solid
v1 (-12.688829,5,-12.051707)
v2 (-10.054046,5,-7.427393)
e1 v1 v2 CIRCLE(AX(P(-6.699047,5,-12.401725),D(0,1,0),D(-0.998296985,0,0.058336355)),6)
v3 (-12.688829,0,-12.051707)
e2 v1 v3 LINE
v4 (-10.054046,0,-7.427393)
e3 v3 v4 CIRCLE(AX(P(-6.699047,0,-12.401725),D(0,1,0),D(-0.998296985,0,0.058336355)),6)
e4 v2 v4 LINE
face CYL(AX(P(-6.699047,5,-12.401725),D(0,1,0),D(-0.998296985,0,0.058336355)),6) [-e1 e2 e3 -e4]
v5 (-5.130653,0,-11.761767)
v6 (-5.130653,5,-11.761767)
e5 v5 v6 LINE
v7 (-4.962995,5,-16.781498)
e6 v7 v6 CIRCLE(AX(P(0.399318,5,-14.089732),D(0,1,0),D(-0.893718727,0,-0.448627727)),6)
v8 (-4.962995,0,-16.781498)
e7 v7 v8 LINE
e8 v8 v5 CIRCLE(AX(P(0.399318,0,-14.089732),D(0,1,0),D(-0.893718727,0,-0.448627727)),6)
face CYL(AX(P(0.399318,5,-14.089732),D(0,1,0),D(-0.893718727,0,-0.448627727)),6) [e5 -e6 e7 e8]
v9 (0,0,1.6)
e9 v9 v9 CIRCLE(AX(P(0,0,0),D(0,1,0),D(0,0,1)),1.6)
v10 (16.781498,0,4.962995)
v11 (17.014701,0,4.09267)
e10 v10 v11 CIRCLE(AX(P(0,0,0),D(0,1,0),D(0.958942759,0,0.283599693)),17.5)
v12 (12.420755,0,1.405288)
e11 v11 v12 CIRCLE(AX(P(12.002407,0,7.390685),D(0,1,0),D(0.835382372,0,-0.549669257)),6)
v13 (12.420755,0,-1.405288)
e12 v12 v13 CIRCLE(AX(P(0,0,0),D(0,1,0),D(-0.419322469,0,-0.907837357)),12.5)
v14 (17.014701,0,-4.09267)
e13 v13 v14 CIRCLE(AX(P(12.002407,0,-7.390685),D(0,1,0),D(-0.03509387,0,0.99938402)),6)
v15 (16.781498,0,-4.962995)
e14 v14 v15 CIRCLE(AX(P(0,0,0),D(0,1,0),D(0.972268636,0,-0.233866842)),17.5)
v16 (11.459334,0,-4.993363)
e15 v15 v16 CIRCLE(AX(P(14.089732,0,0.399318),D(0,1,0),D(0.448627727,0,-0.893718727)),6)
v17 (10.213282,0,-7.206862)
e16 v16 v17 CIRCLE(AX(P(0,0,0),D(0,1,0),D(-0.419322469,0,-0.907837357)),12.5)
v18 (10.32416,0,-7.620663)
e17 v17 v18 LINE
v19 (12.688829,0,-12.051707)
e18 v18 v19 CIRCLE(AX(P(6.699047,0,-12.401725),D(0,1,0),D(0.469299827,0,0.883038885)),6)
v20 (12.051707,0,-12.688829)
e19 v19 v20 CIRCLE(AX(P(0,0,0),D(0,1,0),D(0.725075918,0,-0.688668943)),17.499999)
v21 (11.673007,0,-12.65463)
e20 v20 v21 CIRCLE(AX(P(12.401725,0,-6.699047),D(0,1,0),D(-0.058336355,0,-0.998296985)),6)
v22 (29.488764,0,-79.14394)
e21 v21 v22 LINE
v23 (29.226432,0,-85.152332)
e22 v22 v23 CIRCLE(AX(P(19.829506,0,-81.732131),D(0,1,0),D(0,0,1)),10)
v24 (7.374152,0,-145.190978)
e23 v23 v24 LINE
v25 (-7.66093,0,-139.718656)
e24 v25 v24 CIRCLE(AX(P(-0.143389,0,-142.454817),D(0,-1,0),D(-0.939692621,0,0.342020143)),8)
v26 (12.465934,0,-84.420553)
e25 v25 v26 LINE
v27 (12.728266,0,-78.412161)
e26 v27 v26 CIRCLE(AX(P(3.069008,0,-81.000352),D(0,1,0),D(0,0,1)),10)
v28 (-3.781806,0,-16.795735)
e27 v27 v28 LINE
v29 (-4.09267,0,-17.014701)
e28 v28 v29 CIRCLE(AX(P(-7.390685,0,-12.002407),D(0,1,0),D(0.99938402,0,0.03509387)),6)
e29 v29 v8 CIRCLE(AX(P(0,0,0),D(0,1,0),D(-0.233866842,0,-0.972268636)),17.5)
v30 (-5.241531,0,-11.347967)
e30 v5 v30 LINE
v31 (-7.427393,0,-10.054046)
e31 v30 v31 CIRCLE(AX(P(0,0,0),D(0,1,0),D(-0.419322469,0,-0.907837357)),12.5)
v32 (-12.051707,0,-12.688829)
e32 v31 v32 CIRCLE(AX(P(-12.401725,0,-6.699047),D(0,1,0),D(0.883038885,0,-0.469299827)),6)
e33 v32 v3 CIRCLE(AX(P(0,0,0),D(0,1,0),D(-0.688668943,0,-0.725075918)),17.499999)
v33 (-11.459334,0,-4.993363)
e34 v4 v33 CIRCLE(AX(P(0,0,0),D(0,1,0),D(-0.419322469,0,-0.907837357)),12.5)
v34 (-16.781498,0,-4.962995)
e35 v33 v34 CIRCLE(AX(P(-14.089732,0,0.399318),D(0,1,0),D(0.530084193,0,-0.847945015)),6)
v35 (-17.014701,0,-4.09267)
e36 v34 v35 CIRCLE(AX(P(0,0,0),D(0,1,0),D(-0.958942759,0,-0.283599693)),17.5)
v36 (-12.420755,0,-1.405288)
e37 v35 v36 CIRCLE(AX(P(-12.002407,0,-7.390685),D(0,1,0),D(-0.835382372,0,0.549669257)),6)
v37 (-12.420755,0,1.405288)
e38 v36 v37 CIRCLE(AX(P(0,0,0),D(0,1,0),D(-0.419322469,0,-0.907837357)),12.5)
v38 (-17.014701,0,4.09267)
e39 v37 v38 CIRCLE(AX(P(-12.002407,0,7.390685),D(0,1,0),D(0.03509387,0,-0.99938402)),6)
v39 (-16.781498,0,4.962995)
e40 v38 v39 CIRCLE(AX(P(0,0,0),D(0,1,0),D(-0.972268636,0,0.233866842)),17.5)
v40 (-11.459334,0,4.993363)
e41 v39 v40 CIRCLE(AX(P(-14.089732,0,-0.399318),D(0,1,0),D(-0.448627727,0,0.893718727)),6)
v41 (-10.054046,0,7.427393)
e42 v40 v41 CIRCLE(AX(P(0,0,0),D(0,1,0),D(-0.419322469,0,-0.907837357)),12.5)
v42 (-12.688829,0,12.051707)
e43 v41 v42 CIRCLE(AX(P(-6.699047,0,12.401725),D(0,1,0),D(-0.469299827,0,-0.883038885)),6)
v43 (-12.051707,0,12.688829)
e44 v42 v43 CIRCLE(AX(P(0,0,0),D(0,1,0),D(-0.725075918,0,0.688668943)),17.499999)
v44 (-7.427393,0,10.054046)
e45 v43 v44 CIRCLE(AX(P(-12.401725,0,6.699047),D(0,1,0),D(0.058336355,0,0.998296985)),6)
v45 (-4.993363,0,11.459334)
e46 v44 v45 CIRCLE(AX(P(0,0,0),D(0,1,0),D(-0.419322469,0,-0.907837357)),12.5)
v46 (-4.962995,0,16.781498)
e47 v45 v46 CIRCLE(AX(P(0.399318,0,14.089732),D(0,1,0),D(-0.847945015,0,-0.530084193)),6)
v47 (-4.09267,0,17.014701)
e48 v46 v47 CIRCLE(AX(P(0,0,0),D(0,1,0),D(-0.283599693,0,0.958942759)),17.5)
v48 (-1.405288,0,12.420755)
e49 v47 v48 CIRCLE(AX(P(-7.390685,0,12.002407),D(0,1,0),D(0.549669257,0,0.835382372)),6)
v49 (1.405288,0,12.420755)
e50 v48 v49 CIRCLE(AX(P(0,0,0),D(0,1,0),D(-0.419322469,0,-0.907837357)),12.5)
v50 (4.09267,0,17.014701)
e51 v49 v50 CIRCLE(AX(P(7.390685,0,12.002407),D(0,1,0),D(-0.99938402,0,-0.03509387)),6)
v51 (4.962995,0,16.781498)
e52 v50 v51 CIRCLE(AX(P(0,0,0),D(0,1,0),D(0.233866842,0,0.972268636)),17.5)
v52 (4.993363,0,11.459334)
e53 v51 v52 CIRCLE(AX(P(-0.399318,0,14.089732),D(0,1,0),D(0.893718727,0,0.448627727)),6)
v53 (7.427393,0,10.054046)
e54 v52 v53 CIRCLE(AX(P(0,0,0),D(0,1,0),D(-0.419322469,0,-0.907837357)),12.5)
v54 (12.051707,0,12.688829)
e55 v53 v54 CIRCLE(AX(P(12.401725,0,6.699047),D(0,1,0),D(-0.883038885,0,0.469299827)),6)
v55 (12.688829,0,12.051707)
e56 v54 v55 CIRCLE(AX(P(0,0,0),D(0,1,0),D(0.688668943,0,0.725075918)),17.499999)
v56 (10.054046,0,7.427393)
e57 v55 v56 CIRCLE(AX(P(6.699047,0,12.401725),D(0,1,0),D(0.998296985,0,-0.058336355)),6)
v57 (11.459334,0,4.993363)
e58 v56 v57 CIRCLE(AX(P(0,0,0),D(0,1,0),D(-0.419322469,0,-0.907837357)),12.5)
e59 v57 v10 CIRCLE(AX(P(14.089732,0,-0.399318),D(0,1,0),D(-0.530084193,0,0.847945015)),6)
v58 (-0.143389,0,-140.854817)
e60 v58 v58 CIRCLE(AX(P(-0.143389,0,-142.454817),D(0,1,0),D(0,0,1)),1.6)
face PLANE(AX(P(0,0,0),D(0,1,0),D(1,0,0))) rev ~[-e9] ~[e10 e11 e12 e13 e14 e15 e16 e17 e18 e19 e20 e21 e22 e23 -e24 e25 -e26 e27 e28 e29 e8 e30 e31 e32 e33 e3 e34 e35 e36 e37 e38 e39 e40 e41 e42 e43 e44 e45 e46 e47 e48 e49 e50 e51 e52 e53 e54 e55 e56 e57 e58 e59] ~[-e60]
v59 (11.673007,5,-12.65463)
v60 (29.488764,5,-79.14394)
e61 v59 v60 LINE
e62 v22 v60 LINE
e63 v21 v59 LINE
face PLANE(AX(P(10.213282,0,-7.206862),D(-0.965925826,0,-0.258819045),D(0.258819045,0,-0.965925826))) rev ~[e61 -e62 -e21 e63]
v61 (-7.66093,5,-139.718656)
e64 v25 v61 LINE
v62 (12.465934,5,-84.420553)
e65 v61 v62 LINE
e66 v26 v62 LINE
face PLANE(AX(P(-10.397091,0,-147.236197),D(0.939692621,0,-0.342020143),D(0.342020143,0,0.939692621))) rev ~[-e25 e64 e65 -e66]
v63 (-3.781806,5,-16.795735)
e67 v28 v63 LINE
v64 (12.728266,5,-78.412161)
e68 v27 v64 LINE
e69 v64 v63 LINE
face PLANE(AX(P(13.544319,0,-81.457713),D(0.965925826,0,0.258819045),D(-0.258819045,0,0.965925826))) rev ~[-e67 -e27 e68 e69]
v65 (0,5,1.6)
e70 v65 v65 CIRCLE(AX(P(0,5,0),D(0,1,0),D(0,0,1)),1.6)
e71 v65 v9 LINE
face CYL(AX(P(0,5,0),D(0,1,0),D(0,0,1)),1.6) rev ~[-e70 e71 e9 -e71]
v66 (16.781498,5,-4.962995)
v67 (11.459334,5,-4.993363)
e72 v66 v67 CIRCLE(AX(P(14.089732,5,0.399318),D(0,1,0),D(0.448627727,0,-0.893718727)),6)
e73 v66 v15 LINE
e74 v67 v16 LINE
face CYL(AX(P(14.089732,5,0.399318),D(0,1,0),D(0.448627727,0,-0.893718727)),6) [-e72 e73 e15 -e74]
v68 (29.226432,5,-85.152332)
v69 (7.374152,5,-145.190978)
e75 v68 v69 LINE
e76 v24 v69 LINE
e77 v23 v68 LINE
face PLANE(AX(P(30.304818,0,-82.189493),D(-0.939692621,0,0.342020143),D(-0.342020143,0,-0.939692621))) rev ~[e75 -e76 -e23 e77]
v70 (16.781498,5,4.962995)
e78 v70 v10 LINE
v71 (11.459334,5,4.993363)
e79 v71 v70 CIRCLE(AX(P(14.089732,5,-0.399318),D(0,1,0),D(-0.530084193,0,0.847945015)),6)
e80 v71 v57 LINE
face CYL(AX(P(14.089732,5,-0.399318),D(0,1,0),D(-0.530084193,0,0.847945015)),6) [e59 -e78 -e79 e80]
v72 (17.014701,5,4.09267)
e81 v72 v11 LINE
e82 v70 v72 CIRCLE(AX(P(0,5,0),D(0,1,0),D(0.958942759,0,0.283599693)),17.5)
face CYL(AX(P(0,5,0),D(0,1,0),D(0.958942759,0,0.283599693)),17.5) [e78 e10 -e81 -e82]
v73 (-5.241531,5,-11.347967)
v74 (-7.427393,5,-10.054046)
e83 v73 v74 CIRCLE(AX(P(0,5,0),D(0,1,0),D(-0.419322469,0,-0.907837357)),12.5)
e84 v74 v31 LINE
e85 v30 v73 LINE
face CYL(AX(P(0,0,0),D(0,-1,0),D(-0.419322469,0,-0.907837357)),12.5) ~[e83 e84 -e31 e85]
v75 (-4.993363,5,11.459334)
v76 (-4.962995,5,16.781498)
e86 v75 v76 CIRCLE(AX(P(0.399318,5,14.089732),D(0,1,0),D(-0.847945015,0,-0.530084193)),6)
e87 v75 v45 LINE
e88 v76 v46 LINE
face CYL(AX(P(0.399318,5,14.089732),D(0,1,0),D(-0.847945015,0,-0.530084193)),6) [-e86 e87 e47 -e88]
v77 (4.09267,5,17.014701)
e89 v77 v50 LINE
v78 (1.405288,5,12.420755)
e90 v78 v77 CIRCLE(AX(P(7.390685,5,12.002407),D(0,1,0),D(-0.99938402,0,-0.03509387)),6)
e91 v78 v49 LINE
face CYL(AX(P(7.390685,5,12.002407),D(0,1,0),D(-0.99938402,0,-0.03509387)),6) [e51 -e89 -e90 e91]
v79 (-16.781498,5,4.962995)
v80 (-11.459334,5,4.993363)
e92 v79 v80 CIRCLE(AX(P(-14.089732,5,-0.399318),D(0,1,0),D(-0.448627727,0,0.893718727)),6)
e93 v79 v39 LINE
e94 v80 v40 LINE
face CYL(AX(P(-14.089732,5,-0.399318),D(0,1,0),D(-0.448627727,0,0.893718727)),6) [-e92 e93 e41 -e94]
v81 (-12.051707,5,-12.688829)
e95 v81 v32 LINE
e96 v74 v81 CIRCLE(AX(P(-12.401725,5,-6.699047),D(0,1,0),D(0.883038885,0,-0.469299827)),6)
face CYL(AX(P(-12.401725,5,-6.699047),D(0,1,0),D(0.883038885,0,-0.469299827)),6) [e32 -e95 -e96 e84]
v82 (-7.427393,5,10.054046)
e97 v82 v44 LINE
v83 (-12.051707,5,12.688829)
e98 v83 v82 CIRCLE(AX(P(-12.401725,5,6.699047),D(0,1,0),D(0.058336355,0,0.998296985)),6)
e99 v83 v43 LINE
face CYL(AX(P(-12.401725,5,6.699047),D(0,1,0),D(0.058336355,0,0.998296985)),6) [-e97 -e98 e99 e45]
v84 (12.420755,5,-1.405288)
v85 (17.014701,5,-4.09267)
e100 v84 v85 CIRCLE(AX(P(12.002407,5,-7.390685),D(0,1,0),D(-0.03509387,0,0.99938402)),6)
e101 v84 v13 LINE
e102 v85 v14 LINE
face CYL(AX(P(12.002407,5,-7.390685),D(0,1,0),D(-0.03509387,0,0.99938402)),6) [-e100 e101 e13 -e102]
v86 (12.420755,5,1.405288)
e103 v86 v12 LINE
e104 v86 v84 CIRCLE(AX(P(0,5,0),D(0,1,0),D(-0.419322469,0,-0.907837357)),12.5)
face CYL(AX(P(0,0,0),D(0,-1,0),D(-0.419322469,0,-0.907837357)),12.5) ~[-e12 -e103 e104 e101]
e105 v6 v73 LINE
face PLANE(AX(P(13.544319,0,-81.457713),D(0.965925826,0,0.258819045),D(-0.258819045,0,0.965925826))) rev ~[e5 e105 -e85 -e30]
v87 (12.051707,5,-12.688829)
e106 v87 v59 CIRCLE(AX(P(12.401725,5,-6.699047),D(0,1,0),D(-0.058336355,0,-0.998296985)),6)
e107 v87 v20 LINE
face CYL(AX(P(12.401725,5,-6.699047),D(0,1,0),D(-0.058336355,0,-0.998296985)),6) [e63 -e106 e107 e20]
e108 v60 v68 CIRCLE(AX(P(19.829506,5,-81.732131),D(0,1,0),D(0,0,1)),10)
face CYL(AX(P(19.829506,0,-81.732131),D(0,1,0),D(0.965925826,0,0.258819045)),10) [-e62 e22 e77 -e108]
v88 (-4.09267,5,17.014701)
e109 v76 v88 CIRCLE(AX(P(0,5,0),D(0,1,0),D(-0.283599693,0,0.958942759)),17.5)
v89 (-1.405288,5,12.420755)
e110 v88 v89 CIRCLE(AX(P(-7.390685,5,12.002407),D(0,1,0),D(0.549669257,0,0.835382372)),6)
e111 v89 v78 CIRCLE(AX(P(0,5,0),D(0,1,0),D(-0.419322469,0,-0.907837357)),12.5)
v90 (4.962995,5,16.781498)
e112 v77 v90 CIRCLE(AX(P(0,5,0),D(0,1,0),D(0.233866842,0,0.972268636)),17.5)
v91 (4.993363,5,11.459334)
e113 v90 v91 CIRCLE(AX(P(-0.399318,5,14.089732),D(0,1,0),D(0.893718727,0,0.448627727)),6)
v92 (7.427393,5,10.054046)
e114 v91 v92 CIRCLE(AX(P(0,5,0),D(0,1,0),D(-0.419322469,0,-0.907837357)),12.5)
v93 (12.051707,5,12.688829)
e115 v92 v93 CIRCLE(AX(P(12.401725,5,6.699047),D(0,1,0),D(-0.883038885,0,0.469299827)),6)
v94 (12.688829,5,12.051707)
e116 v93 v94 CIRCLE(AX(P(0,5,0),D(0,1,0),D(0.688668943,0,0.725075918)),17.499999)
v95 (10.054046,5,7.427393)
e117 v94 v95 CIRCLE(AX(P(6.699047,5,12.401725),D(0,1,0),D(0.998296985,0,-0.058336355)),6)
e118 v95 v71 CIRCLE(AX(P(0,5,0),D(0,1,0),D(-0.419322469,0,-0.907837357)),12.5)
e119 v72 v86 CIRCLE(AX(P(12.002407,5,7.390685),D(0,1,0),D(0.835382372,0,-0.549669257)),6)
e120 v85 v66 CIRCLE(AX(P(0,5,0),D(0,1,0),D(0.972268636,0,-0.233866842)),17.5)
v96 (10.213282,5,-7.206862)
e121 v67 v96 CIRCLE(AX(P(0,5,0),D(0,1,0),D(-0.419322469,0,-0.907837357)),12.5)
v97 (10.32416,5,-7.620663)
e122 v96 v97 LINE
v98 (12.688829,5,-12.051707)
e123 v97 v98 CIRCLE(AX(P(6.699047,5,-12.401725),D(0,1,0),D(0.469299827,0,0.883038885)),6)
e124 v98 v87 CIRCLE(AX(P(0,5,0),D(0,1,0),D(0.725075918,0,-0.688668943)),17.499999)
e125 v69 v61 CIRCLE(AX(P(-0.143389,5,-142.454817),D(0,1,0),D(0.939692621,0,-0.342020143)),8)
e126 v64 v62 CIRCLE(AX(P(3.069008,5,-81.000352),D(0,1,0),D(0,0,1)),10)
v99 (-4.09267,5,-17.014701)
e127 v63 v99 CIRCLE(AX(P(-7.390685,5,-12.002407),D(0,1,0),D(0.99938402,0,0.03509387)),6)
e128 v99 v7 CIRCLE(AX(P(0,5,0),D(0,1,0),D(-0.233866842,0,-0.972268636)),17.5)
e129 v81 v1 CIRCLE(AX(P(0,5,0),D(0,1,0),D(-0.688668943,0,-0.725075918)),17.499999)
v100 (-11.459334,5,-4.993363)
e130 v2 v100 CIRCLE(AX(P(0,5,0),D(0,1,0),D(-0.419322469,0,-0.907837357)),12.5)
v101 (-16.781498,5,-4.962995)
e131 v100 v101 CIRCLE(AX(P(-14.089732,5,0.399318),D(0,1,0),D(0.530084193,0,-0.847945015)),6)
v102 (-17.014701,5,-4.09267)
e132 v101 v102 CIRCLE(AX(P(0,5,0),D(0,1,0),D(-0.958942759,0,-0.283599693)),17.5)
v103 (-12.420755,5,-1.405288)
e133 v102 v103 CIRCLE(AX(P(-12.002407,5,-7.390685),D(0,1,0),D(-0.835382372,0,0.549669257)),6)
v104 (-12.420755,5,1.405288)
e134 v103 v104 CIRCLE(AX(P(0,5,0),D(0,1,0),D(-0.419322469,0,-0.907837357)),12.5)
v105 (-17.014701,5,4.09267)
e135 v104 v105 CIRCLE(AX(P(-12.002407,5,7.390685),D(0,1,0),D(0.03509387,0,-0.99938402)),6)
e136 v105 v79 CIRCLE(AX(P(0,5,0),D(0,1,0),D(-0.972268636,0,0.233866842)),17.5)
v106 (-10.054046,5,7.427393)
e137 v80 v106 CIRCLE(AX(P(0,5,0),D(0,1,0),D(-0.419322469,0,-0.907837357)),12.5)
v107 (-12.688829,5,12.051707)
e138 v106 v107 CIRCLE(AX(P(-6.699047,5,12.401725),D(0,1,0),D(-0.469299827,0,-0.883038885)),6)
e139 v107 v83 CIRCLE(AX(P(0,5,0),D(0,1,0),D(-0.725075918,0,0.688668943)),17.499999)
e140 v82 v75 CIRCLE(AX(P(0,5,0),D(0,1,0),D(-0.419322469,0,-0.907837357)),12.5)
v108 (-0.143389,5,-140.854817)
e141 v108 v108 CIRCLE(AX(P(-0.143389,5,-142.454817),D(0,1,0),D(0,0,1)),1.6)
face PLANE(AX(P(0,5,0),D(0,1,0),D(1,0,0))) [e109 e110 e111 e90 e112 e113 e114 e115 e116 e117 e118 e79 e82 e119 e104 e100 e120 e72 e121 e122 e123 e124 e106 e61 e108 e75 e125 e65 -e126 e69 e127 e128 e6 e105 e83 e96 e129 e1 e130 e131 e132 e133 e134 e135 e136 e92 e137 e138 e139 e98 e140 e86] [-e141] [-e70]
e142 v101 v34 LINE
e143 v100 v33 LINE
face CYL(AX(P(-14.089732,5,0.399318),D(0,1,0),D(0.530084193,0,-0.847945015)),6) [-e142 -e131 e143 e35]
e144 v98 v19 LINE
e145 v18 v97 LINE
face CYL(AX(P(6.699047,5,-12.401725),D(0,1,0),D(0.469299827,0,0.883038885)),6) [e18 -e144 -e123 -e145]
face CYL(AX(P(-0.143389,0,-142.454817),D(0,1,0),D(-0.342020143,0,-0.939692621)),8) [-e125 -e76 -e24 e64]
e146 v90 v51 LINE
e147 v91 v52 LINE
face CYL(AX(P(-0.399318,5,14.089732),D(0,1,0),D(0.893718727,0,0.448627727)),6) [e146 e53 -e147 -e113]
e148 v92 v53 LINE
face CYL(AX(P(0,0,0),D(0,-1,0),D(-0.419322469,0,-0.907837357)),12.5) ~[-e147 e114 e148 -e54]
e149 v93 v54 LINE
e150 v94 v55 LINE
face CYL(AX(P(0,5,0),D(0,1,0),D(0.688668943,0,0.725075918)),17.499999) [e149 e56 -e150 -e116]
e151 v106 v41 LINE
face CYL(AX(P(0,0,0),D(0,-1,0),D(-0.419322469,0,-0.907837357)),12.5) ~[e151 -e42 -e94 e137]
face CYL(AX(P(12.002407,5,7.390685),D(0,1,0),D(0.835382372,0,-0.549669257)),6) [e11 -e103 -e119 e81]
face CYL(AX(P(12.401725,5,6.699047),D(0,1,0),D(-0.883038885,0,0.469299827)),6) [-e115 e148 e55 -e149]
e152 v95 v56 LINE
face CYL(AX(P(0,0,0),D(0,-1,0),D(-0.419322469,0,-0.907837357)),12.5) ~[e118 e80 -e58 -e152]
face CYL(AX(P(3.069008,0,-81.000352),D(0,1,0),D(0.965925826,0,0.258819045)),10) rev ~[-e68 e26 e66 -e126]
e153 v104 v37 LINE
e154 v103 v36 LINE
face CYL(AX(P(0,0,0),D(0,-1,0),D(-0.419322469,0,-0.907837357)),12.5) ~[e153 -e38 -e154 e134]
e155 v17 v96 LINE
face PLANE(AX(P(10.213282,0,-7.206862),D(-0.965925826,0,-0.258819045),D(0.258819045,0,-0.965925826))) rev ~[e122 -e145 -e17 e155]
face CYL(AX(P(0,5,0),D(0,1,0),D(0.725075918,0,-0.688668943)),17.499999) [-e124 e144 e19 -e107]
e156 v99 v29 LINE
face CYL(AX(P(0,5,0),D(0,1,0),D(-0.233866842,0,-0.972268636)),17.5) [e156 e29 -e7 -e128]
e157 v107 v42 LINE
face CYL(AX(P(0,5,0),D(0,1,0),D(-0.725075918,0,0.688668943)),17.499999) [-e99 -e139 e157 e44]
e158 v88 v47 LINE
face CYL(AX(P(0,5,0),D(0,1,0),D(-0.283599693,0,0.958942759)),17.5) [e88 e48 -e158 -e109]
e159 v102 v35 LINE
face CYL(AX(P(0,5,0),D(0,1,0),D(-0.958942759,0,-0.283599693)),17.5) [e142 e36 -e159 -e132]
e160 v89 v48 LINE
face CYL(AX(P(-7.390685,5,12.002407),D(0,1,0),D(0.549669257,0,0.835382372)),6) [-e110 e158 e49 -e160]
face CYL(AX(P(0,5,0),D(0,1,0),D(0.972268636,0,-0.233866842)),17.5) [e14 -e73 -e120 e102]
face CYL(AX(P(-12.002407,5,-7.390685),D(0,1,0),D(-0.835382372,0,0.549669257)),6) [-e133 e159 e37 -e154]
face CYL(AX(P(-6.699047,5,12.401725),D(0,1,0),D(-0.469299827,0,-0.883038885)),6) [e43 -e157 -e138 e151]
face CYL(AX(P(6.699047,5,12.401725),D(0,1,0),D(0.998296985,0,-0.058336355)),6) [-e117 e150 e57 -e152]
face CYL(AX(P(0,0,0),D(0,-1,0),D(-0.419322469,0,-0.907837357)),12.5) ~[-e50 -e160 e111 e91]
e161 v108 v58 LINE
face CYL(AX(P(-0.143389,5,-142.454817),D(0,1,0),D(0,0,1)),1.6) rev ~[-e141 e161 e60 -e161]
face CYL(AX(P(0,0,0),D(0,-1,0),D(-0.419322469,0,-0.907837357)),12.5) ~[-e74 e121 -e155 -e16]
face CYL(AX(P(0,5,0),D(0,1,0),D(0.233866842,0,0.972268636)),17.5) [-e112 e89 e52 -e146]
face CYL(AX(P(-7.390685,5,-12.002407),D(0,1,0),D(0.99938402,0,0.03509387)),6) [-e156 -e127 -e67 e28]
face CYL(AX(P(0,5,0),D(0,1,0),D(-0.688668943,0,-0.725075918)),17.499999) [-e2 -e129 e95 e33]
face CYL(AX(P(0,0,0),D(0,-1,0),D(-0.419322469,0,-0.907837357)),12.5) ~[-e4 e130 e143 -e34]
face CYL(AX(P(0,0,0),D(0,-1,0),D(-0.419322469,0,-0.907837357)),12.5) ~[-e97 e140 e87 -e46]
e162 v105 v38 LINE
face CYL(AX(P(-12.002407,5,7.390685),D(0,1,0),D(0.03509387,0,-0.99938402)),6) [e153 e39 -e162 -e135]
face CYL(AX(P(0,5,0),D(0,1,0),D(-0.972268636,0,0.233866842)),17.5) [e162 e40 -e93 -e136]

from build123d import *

# Parameters (mm, degrees)
BOSS_EXTRUDE1_DEPTH = 5
FILLET1_RADIUS      = 8
FILLET1_LENGTH      = 5
FILLET2_R           = 10
SKETCH2_R           = 1.6
CUT_EXTRUDE2_DEPTH  = 154.464821467
BOSS_EXTRUDE3_DEPTH = 5
SKETCH6_R           = 1.6
CUT_EXTRUDE3_DEPTH  = 154.464821467


with BuildPart() as part:
    # Sketch1 → Boss-Extrude1 (new body)
    with BuildSketch(Plane(origin=(0, 0, 0), x_dir=(1, 0, 0), z_dir=(0, 1, 0))):
        with BuildLine():
            Line((10.213282362, 7.206862244), (30.304817628, 82.189492661))
            Line((30.304817628, 82.189492661), (4.637991004, 152.70851924))
            Line((4.637991004, 152.70851924), (-10.397090929, 147.236196947))
            Line((-10.397090929, 147.236196947), (13.544319104, 81.457713492))
            Line((13.544319104, 81.457713492), (-5.241530859, 11.347966966))
            ThreePointArc((-5.241530859, 11.347966966), (-3.235238064, -12.074072829), (10.213282362, 7.206862244))
        make_face()
    extrude(amount=BOSS_EXTRUDE1_DEPTH)

    # Fillet1: full round fillet: the end face becomes a half cylinder, R = half its width
    fillet1_face = Plane((-2.879549962, 2.5, -149.972358093), x_dir=(0, 1, 0), z_dir=(-0.342020143326, 0, -0.939692620786))  # on the end face: x along it, z out of the body
    fillet1_slab = fillet1_face.offset(-FILLET1_RADIUS / 2) * Box(FILLET1_LENGTH, 2 * FILLET1_RADIUS, FILLET1_RADIUS, mode=Mode.PRIVATE)  # the body's end, R deep
    fillet1_round = Plane((-0.143388815, 2.5, -142.454817127), x_dir=(-0.342020143326, 0, -0.939692620786), z_dir=(0, 1, 0)) * Cylinder(FILLET1_RADIUS, FILLET1_LENGTH, mode=Mode.PRIVATE)  # its axis R under the face
    add(fillet1_slab - fillet1_round, mode=Mode.SUBTRACT)

    # Fillet2
    fillet2_edges = [part.edges().sort_by_distance(p)[0] for p in [
        (13.544319104, 2.5, -81.457713492),
        (30.304817628, 2.5, -82.189492661),
    ]]
    fillet(fillet2_edges, radius=FILLET2_R)

    # Sketch2 → Cut-Extrude2 (cut, through all)
    with BuildSketch(Plane(origin=(0, 5, 0), x_dir=(1, 0, 0), z_dir=(0, 1, 0))):
        with Locations(Location((-0.143388816, 142.454817127, 0), (0, 0, 270))):
            Circle(SKETCH2_R)
    extrude(amount=-CUT_EXTRUDE2_DEPTH, mode=Mode.SUBTRACT)

    # Sketch5 → Boss-Extrude3 (add)
    with BuildSketch(Plane(origin=(0, 5, 0), x_dir=(1, 0, 0), z_dir=(0, 1, 0))):
        with BuildLine():
            ThreePointArc((-12.051706508, -12.688828561), (-9.162245044, -11.749370601), (-7.103491322, -9.514845613))
            ThreePointArc((-7.103491322, -9.514845613), (-5.937, -10.283185645), (-4.688352353, -10.909226747))
            ThreePointArc((-4.688352353, -10.909226747), (-5.594130897, -13.809422264), (-4.962994624, -16.781498275))
            ThreePointArc((-4.962994624, -16.781498275), (-4.529333289, -16.90370196), (-4.092669715, -17.014701132))
            ThreePointArc((-4.092669715, -17.014701132), (-2.060051663, -14.756375941), (-1.394381134, -11.791843675))
            ThreePointArc((-1.394381134, -11.791843675), (0, -11.874), (1.394381134, -11.791843675))
            ThreePointArc((1.394381134, -11.791843675), (2.060051663, -14.756375941), (4.092669715, -17.014701132))
            ThreePointArc((4.092669715, -17.014701132), (4.529333289, -16.90370196), (4.962994624, -16.781498275))
            ThreePointArc((4.962994624, -16.781498275), (5.594130897, -13.809422264), (4.688352353, -10.909226747))
            ThreePointArc((4.688352353, -10.909226747), (5.937, -10.283185645), (7.103491322, -9.514845613))
            ThreePointArc((7.103491322, -9.514845613), (9.162245044, -11.749370601), (12.051706508, -12.688828561))
            ThreePointArc((12.051706508, -12.688828561), (12.374368671, -12.374368671), (12.688828561, -12.051706508))
            ThreePointArc((12.688828561, -12.051706508), (11.749370601, -9.162245044), (9.514845613, -7.103491322))
            ThreePointArc((9.514845613, -7.103491322), (10.283185645, -5.937), (10.909226747, -4.688352353))
            ThreePointArc((10.909226747, -4.688352353), (13.809422264, -5.594130897), (16.781498275, -4.962994624))
            ThreePointArc((16.781498275, -4.962994624), (16.90370196, -4.529333289), (17.014701132, -4.092669715))
            ThreePointArc((17.014701132, -4.092669715), (14.756375941, -2.060051663), (11.791843675, -1.394381134))
            ThreePointArc((11.791843675, -1.394381134), (11.874, 0), (11.791843675, 1.394381134))
            ThreePointArc((11.791843675, 1.394381134), (14.756375941, 2.060051663), (17.014701132, 4.092669715))
            ThreePointArc((17.014701132, 4.092669715), (16.90370196, 4.529333289), (16.781498275, 4.962994624))
            ThreePointArc((16.781498275, 4.962994624), (13.809422264, 5.594130897), (10.909226747, 4.688352353))
            ThreePointArc((10.909226747, 4.688352353), (10.283185645, 5.937), (9.514845613, 7.103491322))
            ThreePointArc((9.514845613, 7.103491322), (11.749370601, 9.162245044), (12.688828561, 12.051706508))
            ThreePointArc((12.688828561, 12.051706508), (12.374368671, 12.374368671), (12.051706508, 12.688828561))
            ThreePointArc((12.051706508, 12.688828561), (9.162245044, 11.749370601), (7.103491322, 9.514845613))
            ThreePointArc((7.103491322, 9.514845613), (5.937, 10.283185645), (4.688352353, 10.909226747))
            ThreePointArc((4.688352353, 10.909226747), (5.594130897, 13.809422264), (4.962994624, 16.781498275))
            ThreePointArc((4.962994624, 16.781498275), (4.529333289, 16.90370196), (4.092669715, 17.014701132))
            ThreePointArc((4.092669715, 17.014701132), (2.060051663, 14.756375941), (1.394381134, 11.791843675))
            ThreePointArc((1.394381134, 11.791843675), (0, 11.874), (-1.394381134, 11.791843675))
            ThreePointArc((-1.394381134, 11.791843675), (-2.060051663, 14.756375941), (-4.092669715, 17.014701132))
            ThreePointArc((-4.092669715, 17.014701132), (-4.529333289, 16.90370196), (-4.962994624, 16.781498275))
            ThreePointArc((-4.962994624, 16.781498275), (-5.594130897, 13.809422264), (-4.688352353, 10.909226747))
            ThreePointArc((-4.688352353, 10.909226747), (-5.937, 10.283185645), (-7.103491322, 9.514845613))
            ThreePointArc((-7.103491322, 9.514845613), (-9.162245044, 11.749370601), (-12.051706508, 12.688828561))
            ThreePointArc((-12.051706508, 12.688828561), (-12.374368671, 12.374368671), (-12.688828561, 12.051706508))
            ThreePointArc((-12.688828561, 12.051706508), (-11.749370601, 9.162245044), (-9.514845613, 7.103491322))
            ThreePointArc((-9.514845613, 7.103491322), (-10.283185645, 5.937), (-10.909226747, 4.688352353))
            ThreePointArc((-10.909226747, 4.688352353), (-13.809422264, 5.594130897), (-16.781498275, 4.962994624))
            ThreePointArc((-16.781498275, 4.962994624), (-16.90370196, 4.529333289), (-17.014701132, 4.092669715))
            ThreePointArc((-17.014701132, 4.092669715), (-14.756375941, 2.060051663), (-11.791843675, 1.394381134))
            ThreePointArc((-11.791843675, 1.394381134), (-11.874, 0), (-11.791843675, -1.394381134))
            ThreePointArc((-11.791843675, -1.394381134), (-14.756375941, -2.060051663), (-17.014701132, -4.092669715))
            ThreePointArc((-17.014701132, -4.092669715), (-16.90370196, -4.529333289), (-16.781498275, -4.962994624))
            ThreePointArc((-16.781498275, -4.962994624), (-13.809422264, -5.594130897), (-10.909226747, -4.688352353))
            ThreePointArc((-10.909226747, -4.688352353), (-10.283185645, -5.937), (-9.514845613, -7.103491322))
            ThreePointArc((-9.514845613, -7.103491322), (-11.749370601, -9.162245044), (-12.688828561, -12.051706508))
            ThreePointArc((-12.688828561, -12.051706508), (-12.374368671, -12.374368671), (-12.051706508, -12.688828561))
        make_face()
    extrude(amount=-BOSS_EXTRUDE3_DEPTH)

    # Sketch6 → Cut-Extrude3 (cut, through all)
    with BuildSketch(Plane(origin=(0, 5, 0), x_dir=(1, 0, 0), z_dir=(0, 1, 0))):
        with Locations(Location((0, 0, 0), (0, 0, 270))):
            Circle(SKETCH6_R)
    extrude(amount=-CUT_EXTRUDE3_DEPTH, mode=Mode.SUBTRACT)


solid = part.part
